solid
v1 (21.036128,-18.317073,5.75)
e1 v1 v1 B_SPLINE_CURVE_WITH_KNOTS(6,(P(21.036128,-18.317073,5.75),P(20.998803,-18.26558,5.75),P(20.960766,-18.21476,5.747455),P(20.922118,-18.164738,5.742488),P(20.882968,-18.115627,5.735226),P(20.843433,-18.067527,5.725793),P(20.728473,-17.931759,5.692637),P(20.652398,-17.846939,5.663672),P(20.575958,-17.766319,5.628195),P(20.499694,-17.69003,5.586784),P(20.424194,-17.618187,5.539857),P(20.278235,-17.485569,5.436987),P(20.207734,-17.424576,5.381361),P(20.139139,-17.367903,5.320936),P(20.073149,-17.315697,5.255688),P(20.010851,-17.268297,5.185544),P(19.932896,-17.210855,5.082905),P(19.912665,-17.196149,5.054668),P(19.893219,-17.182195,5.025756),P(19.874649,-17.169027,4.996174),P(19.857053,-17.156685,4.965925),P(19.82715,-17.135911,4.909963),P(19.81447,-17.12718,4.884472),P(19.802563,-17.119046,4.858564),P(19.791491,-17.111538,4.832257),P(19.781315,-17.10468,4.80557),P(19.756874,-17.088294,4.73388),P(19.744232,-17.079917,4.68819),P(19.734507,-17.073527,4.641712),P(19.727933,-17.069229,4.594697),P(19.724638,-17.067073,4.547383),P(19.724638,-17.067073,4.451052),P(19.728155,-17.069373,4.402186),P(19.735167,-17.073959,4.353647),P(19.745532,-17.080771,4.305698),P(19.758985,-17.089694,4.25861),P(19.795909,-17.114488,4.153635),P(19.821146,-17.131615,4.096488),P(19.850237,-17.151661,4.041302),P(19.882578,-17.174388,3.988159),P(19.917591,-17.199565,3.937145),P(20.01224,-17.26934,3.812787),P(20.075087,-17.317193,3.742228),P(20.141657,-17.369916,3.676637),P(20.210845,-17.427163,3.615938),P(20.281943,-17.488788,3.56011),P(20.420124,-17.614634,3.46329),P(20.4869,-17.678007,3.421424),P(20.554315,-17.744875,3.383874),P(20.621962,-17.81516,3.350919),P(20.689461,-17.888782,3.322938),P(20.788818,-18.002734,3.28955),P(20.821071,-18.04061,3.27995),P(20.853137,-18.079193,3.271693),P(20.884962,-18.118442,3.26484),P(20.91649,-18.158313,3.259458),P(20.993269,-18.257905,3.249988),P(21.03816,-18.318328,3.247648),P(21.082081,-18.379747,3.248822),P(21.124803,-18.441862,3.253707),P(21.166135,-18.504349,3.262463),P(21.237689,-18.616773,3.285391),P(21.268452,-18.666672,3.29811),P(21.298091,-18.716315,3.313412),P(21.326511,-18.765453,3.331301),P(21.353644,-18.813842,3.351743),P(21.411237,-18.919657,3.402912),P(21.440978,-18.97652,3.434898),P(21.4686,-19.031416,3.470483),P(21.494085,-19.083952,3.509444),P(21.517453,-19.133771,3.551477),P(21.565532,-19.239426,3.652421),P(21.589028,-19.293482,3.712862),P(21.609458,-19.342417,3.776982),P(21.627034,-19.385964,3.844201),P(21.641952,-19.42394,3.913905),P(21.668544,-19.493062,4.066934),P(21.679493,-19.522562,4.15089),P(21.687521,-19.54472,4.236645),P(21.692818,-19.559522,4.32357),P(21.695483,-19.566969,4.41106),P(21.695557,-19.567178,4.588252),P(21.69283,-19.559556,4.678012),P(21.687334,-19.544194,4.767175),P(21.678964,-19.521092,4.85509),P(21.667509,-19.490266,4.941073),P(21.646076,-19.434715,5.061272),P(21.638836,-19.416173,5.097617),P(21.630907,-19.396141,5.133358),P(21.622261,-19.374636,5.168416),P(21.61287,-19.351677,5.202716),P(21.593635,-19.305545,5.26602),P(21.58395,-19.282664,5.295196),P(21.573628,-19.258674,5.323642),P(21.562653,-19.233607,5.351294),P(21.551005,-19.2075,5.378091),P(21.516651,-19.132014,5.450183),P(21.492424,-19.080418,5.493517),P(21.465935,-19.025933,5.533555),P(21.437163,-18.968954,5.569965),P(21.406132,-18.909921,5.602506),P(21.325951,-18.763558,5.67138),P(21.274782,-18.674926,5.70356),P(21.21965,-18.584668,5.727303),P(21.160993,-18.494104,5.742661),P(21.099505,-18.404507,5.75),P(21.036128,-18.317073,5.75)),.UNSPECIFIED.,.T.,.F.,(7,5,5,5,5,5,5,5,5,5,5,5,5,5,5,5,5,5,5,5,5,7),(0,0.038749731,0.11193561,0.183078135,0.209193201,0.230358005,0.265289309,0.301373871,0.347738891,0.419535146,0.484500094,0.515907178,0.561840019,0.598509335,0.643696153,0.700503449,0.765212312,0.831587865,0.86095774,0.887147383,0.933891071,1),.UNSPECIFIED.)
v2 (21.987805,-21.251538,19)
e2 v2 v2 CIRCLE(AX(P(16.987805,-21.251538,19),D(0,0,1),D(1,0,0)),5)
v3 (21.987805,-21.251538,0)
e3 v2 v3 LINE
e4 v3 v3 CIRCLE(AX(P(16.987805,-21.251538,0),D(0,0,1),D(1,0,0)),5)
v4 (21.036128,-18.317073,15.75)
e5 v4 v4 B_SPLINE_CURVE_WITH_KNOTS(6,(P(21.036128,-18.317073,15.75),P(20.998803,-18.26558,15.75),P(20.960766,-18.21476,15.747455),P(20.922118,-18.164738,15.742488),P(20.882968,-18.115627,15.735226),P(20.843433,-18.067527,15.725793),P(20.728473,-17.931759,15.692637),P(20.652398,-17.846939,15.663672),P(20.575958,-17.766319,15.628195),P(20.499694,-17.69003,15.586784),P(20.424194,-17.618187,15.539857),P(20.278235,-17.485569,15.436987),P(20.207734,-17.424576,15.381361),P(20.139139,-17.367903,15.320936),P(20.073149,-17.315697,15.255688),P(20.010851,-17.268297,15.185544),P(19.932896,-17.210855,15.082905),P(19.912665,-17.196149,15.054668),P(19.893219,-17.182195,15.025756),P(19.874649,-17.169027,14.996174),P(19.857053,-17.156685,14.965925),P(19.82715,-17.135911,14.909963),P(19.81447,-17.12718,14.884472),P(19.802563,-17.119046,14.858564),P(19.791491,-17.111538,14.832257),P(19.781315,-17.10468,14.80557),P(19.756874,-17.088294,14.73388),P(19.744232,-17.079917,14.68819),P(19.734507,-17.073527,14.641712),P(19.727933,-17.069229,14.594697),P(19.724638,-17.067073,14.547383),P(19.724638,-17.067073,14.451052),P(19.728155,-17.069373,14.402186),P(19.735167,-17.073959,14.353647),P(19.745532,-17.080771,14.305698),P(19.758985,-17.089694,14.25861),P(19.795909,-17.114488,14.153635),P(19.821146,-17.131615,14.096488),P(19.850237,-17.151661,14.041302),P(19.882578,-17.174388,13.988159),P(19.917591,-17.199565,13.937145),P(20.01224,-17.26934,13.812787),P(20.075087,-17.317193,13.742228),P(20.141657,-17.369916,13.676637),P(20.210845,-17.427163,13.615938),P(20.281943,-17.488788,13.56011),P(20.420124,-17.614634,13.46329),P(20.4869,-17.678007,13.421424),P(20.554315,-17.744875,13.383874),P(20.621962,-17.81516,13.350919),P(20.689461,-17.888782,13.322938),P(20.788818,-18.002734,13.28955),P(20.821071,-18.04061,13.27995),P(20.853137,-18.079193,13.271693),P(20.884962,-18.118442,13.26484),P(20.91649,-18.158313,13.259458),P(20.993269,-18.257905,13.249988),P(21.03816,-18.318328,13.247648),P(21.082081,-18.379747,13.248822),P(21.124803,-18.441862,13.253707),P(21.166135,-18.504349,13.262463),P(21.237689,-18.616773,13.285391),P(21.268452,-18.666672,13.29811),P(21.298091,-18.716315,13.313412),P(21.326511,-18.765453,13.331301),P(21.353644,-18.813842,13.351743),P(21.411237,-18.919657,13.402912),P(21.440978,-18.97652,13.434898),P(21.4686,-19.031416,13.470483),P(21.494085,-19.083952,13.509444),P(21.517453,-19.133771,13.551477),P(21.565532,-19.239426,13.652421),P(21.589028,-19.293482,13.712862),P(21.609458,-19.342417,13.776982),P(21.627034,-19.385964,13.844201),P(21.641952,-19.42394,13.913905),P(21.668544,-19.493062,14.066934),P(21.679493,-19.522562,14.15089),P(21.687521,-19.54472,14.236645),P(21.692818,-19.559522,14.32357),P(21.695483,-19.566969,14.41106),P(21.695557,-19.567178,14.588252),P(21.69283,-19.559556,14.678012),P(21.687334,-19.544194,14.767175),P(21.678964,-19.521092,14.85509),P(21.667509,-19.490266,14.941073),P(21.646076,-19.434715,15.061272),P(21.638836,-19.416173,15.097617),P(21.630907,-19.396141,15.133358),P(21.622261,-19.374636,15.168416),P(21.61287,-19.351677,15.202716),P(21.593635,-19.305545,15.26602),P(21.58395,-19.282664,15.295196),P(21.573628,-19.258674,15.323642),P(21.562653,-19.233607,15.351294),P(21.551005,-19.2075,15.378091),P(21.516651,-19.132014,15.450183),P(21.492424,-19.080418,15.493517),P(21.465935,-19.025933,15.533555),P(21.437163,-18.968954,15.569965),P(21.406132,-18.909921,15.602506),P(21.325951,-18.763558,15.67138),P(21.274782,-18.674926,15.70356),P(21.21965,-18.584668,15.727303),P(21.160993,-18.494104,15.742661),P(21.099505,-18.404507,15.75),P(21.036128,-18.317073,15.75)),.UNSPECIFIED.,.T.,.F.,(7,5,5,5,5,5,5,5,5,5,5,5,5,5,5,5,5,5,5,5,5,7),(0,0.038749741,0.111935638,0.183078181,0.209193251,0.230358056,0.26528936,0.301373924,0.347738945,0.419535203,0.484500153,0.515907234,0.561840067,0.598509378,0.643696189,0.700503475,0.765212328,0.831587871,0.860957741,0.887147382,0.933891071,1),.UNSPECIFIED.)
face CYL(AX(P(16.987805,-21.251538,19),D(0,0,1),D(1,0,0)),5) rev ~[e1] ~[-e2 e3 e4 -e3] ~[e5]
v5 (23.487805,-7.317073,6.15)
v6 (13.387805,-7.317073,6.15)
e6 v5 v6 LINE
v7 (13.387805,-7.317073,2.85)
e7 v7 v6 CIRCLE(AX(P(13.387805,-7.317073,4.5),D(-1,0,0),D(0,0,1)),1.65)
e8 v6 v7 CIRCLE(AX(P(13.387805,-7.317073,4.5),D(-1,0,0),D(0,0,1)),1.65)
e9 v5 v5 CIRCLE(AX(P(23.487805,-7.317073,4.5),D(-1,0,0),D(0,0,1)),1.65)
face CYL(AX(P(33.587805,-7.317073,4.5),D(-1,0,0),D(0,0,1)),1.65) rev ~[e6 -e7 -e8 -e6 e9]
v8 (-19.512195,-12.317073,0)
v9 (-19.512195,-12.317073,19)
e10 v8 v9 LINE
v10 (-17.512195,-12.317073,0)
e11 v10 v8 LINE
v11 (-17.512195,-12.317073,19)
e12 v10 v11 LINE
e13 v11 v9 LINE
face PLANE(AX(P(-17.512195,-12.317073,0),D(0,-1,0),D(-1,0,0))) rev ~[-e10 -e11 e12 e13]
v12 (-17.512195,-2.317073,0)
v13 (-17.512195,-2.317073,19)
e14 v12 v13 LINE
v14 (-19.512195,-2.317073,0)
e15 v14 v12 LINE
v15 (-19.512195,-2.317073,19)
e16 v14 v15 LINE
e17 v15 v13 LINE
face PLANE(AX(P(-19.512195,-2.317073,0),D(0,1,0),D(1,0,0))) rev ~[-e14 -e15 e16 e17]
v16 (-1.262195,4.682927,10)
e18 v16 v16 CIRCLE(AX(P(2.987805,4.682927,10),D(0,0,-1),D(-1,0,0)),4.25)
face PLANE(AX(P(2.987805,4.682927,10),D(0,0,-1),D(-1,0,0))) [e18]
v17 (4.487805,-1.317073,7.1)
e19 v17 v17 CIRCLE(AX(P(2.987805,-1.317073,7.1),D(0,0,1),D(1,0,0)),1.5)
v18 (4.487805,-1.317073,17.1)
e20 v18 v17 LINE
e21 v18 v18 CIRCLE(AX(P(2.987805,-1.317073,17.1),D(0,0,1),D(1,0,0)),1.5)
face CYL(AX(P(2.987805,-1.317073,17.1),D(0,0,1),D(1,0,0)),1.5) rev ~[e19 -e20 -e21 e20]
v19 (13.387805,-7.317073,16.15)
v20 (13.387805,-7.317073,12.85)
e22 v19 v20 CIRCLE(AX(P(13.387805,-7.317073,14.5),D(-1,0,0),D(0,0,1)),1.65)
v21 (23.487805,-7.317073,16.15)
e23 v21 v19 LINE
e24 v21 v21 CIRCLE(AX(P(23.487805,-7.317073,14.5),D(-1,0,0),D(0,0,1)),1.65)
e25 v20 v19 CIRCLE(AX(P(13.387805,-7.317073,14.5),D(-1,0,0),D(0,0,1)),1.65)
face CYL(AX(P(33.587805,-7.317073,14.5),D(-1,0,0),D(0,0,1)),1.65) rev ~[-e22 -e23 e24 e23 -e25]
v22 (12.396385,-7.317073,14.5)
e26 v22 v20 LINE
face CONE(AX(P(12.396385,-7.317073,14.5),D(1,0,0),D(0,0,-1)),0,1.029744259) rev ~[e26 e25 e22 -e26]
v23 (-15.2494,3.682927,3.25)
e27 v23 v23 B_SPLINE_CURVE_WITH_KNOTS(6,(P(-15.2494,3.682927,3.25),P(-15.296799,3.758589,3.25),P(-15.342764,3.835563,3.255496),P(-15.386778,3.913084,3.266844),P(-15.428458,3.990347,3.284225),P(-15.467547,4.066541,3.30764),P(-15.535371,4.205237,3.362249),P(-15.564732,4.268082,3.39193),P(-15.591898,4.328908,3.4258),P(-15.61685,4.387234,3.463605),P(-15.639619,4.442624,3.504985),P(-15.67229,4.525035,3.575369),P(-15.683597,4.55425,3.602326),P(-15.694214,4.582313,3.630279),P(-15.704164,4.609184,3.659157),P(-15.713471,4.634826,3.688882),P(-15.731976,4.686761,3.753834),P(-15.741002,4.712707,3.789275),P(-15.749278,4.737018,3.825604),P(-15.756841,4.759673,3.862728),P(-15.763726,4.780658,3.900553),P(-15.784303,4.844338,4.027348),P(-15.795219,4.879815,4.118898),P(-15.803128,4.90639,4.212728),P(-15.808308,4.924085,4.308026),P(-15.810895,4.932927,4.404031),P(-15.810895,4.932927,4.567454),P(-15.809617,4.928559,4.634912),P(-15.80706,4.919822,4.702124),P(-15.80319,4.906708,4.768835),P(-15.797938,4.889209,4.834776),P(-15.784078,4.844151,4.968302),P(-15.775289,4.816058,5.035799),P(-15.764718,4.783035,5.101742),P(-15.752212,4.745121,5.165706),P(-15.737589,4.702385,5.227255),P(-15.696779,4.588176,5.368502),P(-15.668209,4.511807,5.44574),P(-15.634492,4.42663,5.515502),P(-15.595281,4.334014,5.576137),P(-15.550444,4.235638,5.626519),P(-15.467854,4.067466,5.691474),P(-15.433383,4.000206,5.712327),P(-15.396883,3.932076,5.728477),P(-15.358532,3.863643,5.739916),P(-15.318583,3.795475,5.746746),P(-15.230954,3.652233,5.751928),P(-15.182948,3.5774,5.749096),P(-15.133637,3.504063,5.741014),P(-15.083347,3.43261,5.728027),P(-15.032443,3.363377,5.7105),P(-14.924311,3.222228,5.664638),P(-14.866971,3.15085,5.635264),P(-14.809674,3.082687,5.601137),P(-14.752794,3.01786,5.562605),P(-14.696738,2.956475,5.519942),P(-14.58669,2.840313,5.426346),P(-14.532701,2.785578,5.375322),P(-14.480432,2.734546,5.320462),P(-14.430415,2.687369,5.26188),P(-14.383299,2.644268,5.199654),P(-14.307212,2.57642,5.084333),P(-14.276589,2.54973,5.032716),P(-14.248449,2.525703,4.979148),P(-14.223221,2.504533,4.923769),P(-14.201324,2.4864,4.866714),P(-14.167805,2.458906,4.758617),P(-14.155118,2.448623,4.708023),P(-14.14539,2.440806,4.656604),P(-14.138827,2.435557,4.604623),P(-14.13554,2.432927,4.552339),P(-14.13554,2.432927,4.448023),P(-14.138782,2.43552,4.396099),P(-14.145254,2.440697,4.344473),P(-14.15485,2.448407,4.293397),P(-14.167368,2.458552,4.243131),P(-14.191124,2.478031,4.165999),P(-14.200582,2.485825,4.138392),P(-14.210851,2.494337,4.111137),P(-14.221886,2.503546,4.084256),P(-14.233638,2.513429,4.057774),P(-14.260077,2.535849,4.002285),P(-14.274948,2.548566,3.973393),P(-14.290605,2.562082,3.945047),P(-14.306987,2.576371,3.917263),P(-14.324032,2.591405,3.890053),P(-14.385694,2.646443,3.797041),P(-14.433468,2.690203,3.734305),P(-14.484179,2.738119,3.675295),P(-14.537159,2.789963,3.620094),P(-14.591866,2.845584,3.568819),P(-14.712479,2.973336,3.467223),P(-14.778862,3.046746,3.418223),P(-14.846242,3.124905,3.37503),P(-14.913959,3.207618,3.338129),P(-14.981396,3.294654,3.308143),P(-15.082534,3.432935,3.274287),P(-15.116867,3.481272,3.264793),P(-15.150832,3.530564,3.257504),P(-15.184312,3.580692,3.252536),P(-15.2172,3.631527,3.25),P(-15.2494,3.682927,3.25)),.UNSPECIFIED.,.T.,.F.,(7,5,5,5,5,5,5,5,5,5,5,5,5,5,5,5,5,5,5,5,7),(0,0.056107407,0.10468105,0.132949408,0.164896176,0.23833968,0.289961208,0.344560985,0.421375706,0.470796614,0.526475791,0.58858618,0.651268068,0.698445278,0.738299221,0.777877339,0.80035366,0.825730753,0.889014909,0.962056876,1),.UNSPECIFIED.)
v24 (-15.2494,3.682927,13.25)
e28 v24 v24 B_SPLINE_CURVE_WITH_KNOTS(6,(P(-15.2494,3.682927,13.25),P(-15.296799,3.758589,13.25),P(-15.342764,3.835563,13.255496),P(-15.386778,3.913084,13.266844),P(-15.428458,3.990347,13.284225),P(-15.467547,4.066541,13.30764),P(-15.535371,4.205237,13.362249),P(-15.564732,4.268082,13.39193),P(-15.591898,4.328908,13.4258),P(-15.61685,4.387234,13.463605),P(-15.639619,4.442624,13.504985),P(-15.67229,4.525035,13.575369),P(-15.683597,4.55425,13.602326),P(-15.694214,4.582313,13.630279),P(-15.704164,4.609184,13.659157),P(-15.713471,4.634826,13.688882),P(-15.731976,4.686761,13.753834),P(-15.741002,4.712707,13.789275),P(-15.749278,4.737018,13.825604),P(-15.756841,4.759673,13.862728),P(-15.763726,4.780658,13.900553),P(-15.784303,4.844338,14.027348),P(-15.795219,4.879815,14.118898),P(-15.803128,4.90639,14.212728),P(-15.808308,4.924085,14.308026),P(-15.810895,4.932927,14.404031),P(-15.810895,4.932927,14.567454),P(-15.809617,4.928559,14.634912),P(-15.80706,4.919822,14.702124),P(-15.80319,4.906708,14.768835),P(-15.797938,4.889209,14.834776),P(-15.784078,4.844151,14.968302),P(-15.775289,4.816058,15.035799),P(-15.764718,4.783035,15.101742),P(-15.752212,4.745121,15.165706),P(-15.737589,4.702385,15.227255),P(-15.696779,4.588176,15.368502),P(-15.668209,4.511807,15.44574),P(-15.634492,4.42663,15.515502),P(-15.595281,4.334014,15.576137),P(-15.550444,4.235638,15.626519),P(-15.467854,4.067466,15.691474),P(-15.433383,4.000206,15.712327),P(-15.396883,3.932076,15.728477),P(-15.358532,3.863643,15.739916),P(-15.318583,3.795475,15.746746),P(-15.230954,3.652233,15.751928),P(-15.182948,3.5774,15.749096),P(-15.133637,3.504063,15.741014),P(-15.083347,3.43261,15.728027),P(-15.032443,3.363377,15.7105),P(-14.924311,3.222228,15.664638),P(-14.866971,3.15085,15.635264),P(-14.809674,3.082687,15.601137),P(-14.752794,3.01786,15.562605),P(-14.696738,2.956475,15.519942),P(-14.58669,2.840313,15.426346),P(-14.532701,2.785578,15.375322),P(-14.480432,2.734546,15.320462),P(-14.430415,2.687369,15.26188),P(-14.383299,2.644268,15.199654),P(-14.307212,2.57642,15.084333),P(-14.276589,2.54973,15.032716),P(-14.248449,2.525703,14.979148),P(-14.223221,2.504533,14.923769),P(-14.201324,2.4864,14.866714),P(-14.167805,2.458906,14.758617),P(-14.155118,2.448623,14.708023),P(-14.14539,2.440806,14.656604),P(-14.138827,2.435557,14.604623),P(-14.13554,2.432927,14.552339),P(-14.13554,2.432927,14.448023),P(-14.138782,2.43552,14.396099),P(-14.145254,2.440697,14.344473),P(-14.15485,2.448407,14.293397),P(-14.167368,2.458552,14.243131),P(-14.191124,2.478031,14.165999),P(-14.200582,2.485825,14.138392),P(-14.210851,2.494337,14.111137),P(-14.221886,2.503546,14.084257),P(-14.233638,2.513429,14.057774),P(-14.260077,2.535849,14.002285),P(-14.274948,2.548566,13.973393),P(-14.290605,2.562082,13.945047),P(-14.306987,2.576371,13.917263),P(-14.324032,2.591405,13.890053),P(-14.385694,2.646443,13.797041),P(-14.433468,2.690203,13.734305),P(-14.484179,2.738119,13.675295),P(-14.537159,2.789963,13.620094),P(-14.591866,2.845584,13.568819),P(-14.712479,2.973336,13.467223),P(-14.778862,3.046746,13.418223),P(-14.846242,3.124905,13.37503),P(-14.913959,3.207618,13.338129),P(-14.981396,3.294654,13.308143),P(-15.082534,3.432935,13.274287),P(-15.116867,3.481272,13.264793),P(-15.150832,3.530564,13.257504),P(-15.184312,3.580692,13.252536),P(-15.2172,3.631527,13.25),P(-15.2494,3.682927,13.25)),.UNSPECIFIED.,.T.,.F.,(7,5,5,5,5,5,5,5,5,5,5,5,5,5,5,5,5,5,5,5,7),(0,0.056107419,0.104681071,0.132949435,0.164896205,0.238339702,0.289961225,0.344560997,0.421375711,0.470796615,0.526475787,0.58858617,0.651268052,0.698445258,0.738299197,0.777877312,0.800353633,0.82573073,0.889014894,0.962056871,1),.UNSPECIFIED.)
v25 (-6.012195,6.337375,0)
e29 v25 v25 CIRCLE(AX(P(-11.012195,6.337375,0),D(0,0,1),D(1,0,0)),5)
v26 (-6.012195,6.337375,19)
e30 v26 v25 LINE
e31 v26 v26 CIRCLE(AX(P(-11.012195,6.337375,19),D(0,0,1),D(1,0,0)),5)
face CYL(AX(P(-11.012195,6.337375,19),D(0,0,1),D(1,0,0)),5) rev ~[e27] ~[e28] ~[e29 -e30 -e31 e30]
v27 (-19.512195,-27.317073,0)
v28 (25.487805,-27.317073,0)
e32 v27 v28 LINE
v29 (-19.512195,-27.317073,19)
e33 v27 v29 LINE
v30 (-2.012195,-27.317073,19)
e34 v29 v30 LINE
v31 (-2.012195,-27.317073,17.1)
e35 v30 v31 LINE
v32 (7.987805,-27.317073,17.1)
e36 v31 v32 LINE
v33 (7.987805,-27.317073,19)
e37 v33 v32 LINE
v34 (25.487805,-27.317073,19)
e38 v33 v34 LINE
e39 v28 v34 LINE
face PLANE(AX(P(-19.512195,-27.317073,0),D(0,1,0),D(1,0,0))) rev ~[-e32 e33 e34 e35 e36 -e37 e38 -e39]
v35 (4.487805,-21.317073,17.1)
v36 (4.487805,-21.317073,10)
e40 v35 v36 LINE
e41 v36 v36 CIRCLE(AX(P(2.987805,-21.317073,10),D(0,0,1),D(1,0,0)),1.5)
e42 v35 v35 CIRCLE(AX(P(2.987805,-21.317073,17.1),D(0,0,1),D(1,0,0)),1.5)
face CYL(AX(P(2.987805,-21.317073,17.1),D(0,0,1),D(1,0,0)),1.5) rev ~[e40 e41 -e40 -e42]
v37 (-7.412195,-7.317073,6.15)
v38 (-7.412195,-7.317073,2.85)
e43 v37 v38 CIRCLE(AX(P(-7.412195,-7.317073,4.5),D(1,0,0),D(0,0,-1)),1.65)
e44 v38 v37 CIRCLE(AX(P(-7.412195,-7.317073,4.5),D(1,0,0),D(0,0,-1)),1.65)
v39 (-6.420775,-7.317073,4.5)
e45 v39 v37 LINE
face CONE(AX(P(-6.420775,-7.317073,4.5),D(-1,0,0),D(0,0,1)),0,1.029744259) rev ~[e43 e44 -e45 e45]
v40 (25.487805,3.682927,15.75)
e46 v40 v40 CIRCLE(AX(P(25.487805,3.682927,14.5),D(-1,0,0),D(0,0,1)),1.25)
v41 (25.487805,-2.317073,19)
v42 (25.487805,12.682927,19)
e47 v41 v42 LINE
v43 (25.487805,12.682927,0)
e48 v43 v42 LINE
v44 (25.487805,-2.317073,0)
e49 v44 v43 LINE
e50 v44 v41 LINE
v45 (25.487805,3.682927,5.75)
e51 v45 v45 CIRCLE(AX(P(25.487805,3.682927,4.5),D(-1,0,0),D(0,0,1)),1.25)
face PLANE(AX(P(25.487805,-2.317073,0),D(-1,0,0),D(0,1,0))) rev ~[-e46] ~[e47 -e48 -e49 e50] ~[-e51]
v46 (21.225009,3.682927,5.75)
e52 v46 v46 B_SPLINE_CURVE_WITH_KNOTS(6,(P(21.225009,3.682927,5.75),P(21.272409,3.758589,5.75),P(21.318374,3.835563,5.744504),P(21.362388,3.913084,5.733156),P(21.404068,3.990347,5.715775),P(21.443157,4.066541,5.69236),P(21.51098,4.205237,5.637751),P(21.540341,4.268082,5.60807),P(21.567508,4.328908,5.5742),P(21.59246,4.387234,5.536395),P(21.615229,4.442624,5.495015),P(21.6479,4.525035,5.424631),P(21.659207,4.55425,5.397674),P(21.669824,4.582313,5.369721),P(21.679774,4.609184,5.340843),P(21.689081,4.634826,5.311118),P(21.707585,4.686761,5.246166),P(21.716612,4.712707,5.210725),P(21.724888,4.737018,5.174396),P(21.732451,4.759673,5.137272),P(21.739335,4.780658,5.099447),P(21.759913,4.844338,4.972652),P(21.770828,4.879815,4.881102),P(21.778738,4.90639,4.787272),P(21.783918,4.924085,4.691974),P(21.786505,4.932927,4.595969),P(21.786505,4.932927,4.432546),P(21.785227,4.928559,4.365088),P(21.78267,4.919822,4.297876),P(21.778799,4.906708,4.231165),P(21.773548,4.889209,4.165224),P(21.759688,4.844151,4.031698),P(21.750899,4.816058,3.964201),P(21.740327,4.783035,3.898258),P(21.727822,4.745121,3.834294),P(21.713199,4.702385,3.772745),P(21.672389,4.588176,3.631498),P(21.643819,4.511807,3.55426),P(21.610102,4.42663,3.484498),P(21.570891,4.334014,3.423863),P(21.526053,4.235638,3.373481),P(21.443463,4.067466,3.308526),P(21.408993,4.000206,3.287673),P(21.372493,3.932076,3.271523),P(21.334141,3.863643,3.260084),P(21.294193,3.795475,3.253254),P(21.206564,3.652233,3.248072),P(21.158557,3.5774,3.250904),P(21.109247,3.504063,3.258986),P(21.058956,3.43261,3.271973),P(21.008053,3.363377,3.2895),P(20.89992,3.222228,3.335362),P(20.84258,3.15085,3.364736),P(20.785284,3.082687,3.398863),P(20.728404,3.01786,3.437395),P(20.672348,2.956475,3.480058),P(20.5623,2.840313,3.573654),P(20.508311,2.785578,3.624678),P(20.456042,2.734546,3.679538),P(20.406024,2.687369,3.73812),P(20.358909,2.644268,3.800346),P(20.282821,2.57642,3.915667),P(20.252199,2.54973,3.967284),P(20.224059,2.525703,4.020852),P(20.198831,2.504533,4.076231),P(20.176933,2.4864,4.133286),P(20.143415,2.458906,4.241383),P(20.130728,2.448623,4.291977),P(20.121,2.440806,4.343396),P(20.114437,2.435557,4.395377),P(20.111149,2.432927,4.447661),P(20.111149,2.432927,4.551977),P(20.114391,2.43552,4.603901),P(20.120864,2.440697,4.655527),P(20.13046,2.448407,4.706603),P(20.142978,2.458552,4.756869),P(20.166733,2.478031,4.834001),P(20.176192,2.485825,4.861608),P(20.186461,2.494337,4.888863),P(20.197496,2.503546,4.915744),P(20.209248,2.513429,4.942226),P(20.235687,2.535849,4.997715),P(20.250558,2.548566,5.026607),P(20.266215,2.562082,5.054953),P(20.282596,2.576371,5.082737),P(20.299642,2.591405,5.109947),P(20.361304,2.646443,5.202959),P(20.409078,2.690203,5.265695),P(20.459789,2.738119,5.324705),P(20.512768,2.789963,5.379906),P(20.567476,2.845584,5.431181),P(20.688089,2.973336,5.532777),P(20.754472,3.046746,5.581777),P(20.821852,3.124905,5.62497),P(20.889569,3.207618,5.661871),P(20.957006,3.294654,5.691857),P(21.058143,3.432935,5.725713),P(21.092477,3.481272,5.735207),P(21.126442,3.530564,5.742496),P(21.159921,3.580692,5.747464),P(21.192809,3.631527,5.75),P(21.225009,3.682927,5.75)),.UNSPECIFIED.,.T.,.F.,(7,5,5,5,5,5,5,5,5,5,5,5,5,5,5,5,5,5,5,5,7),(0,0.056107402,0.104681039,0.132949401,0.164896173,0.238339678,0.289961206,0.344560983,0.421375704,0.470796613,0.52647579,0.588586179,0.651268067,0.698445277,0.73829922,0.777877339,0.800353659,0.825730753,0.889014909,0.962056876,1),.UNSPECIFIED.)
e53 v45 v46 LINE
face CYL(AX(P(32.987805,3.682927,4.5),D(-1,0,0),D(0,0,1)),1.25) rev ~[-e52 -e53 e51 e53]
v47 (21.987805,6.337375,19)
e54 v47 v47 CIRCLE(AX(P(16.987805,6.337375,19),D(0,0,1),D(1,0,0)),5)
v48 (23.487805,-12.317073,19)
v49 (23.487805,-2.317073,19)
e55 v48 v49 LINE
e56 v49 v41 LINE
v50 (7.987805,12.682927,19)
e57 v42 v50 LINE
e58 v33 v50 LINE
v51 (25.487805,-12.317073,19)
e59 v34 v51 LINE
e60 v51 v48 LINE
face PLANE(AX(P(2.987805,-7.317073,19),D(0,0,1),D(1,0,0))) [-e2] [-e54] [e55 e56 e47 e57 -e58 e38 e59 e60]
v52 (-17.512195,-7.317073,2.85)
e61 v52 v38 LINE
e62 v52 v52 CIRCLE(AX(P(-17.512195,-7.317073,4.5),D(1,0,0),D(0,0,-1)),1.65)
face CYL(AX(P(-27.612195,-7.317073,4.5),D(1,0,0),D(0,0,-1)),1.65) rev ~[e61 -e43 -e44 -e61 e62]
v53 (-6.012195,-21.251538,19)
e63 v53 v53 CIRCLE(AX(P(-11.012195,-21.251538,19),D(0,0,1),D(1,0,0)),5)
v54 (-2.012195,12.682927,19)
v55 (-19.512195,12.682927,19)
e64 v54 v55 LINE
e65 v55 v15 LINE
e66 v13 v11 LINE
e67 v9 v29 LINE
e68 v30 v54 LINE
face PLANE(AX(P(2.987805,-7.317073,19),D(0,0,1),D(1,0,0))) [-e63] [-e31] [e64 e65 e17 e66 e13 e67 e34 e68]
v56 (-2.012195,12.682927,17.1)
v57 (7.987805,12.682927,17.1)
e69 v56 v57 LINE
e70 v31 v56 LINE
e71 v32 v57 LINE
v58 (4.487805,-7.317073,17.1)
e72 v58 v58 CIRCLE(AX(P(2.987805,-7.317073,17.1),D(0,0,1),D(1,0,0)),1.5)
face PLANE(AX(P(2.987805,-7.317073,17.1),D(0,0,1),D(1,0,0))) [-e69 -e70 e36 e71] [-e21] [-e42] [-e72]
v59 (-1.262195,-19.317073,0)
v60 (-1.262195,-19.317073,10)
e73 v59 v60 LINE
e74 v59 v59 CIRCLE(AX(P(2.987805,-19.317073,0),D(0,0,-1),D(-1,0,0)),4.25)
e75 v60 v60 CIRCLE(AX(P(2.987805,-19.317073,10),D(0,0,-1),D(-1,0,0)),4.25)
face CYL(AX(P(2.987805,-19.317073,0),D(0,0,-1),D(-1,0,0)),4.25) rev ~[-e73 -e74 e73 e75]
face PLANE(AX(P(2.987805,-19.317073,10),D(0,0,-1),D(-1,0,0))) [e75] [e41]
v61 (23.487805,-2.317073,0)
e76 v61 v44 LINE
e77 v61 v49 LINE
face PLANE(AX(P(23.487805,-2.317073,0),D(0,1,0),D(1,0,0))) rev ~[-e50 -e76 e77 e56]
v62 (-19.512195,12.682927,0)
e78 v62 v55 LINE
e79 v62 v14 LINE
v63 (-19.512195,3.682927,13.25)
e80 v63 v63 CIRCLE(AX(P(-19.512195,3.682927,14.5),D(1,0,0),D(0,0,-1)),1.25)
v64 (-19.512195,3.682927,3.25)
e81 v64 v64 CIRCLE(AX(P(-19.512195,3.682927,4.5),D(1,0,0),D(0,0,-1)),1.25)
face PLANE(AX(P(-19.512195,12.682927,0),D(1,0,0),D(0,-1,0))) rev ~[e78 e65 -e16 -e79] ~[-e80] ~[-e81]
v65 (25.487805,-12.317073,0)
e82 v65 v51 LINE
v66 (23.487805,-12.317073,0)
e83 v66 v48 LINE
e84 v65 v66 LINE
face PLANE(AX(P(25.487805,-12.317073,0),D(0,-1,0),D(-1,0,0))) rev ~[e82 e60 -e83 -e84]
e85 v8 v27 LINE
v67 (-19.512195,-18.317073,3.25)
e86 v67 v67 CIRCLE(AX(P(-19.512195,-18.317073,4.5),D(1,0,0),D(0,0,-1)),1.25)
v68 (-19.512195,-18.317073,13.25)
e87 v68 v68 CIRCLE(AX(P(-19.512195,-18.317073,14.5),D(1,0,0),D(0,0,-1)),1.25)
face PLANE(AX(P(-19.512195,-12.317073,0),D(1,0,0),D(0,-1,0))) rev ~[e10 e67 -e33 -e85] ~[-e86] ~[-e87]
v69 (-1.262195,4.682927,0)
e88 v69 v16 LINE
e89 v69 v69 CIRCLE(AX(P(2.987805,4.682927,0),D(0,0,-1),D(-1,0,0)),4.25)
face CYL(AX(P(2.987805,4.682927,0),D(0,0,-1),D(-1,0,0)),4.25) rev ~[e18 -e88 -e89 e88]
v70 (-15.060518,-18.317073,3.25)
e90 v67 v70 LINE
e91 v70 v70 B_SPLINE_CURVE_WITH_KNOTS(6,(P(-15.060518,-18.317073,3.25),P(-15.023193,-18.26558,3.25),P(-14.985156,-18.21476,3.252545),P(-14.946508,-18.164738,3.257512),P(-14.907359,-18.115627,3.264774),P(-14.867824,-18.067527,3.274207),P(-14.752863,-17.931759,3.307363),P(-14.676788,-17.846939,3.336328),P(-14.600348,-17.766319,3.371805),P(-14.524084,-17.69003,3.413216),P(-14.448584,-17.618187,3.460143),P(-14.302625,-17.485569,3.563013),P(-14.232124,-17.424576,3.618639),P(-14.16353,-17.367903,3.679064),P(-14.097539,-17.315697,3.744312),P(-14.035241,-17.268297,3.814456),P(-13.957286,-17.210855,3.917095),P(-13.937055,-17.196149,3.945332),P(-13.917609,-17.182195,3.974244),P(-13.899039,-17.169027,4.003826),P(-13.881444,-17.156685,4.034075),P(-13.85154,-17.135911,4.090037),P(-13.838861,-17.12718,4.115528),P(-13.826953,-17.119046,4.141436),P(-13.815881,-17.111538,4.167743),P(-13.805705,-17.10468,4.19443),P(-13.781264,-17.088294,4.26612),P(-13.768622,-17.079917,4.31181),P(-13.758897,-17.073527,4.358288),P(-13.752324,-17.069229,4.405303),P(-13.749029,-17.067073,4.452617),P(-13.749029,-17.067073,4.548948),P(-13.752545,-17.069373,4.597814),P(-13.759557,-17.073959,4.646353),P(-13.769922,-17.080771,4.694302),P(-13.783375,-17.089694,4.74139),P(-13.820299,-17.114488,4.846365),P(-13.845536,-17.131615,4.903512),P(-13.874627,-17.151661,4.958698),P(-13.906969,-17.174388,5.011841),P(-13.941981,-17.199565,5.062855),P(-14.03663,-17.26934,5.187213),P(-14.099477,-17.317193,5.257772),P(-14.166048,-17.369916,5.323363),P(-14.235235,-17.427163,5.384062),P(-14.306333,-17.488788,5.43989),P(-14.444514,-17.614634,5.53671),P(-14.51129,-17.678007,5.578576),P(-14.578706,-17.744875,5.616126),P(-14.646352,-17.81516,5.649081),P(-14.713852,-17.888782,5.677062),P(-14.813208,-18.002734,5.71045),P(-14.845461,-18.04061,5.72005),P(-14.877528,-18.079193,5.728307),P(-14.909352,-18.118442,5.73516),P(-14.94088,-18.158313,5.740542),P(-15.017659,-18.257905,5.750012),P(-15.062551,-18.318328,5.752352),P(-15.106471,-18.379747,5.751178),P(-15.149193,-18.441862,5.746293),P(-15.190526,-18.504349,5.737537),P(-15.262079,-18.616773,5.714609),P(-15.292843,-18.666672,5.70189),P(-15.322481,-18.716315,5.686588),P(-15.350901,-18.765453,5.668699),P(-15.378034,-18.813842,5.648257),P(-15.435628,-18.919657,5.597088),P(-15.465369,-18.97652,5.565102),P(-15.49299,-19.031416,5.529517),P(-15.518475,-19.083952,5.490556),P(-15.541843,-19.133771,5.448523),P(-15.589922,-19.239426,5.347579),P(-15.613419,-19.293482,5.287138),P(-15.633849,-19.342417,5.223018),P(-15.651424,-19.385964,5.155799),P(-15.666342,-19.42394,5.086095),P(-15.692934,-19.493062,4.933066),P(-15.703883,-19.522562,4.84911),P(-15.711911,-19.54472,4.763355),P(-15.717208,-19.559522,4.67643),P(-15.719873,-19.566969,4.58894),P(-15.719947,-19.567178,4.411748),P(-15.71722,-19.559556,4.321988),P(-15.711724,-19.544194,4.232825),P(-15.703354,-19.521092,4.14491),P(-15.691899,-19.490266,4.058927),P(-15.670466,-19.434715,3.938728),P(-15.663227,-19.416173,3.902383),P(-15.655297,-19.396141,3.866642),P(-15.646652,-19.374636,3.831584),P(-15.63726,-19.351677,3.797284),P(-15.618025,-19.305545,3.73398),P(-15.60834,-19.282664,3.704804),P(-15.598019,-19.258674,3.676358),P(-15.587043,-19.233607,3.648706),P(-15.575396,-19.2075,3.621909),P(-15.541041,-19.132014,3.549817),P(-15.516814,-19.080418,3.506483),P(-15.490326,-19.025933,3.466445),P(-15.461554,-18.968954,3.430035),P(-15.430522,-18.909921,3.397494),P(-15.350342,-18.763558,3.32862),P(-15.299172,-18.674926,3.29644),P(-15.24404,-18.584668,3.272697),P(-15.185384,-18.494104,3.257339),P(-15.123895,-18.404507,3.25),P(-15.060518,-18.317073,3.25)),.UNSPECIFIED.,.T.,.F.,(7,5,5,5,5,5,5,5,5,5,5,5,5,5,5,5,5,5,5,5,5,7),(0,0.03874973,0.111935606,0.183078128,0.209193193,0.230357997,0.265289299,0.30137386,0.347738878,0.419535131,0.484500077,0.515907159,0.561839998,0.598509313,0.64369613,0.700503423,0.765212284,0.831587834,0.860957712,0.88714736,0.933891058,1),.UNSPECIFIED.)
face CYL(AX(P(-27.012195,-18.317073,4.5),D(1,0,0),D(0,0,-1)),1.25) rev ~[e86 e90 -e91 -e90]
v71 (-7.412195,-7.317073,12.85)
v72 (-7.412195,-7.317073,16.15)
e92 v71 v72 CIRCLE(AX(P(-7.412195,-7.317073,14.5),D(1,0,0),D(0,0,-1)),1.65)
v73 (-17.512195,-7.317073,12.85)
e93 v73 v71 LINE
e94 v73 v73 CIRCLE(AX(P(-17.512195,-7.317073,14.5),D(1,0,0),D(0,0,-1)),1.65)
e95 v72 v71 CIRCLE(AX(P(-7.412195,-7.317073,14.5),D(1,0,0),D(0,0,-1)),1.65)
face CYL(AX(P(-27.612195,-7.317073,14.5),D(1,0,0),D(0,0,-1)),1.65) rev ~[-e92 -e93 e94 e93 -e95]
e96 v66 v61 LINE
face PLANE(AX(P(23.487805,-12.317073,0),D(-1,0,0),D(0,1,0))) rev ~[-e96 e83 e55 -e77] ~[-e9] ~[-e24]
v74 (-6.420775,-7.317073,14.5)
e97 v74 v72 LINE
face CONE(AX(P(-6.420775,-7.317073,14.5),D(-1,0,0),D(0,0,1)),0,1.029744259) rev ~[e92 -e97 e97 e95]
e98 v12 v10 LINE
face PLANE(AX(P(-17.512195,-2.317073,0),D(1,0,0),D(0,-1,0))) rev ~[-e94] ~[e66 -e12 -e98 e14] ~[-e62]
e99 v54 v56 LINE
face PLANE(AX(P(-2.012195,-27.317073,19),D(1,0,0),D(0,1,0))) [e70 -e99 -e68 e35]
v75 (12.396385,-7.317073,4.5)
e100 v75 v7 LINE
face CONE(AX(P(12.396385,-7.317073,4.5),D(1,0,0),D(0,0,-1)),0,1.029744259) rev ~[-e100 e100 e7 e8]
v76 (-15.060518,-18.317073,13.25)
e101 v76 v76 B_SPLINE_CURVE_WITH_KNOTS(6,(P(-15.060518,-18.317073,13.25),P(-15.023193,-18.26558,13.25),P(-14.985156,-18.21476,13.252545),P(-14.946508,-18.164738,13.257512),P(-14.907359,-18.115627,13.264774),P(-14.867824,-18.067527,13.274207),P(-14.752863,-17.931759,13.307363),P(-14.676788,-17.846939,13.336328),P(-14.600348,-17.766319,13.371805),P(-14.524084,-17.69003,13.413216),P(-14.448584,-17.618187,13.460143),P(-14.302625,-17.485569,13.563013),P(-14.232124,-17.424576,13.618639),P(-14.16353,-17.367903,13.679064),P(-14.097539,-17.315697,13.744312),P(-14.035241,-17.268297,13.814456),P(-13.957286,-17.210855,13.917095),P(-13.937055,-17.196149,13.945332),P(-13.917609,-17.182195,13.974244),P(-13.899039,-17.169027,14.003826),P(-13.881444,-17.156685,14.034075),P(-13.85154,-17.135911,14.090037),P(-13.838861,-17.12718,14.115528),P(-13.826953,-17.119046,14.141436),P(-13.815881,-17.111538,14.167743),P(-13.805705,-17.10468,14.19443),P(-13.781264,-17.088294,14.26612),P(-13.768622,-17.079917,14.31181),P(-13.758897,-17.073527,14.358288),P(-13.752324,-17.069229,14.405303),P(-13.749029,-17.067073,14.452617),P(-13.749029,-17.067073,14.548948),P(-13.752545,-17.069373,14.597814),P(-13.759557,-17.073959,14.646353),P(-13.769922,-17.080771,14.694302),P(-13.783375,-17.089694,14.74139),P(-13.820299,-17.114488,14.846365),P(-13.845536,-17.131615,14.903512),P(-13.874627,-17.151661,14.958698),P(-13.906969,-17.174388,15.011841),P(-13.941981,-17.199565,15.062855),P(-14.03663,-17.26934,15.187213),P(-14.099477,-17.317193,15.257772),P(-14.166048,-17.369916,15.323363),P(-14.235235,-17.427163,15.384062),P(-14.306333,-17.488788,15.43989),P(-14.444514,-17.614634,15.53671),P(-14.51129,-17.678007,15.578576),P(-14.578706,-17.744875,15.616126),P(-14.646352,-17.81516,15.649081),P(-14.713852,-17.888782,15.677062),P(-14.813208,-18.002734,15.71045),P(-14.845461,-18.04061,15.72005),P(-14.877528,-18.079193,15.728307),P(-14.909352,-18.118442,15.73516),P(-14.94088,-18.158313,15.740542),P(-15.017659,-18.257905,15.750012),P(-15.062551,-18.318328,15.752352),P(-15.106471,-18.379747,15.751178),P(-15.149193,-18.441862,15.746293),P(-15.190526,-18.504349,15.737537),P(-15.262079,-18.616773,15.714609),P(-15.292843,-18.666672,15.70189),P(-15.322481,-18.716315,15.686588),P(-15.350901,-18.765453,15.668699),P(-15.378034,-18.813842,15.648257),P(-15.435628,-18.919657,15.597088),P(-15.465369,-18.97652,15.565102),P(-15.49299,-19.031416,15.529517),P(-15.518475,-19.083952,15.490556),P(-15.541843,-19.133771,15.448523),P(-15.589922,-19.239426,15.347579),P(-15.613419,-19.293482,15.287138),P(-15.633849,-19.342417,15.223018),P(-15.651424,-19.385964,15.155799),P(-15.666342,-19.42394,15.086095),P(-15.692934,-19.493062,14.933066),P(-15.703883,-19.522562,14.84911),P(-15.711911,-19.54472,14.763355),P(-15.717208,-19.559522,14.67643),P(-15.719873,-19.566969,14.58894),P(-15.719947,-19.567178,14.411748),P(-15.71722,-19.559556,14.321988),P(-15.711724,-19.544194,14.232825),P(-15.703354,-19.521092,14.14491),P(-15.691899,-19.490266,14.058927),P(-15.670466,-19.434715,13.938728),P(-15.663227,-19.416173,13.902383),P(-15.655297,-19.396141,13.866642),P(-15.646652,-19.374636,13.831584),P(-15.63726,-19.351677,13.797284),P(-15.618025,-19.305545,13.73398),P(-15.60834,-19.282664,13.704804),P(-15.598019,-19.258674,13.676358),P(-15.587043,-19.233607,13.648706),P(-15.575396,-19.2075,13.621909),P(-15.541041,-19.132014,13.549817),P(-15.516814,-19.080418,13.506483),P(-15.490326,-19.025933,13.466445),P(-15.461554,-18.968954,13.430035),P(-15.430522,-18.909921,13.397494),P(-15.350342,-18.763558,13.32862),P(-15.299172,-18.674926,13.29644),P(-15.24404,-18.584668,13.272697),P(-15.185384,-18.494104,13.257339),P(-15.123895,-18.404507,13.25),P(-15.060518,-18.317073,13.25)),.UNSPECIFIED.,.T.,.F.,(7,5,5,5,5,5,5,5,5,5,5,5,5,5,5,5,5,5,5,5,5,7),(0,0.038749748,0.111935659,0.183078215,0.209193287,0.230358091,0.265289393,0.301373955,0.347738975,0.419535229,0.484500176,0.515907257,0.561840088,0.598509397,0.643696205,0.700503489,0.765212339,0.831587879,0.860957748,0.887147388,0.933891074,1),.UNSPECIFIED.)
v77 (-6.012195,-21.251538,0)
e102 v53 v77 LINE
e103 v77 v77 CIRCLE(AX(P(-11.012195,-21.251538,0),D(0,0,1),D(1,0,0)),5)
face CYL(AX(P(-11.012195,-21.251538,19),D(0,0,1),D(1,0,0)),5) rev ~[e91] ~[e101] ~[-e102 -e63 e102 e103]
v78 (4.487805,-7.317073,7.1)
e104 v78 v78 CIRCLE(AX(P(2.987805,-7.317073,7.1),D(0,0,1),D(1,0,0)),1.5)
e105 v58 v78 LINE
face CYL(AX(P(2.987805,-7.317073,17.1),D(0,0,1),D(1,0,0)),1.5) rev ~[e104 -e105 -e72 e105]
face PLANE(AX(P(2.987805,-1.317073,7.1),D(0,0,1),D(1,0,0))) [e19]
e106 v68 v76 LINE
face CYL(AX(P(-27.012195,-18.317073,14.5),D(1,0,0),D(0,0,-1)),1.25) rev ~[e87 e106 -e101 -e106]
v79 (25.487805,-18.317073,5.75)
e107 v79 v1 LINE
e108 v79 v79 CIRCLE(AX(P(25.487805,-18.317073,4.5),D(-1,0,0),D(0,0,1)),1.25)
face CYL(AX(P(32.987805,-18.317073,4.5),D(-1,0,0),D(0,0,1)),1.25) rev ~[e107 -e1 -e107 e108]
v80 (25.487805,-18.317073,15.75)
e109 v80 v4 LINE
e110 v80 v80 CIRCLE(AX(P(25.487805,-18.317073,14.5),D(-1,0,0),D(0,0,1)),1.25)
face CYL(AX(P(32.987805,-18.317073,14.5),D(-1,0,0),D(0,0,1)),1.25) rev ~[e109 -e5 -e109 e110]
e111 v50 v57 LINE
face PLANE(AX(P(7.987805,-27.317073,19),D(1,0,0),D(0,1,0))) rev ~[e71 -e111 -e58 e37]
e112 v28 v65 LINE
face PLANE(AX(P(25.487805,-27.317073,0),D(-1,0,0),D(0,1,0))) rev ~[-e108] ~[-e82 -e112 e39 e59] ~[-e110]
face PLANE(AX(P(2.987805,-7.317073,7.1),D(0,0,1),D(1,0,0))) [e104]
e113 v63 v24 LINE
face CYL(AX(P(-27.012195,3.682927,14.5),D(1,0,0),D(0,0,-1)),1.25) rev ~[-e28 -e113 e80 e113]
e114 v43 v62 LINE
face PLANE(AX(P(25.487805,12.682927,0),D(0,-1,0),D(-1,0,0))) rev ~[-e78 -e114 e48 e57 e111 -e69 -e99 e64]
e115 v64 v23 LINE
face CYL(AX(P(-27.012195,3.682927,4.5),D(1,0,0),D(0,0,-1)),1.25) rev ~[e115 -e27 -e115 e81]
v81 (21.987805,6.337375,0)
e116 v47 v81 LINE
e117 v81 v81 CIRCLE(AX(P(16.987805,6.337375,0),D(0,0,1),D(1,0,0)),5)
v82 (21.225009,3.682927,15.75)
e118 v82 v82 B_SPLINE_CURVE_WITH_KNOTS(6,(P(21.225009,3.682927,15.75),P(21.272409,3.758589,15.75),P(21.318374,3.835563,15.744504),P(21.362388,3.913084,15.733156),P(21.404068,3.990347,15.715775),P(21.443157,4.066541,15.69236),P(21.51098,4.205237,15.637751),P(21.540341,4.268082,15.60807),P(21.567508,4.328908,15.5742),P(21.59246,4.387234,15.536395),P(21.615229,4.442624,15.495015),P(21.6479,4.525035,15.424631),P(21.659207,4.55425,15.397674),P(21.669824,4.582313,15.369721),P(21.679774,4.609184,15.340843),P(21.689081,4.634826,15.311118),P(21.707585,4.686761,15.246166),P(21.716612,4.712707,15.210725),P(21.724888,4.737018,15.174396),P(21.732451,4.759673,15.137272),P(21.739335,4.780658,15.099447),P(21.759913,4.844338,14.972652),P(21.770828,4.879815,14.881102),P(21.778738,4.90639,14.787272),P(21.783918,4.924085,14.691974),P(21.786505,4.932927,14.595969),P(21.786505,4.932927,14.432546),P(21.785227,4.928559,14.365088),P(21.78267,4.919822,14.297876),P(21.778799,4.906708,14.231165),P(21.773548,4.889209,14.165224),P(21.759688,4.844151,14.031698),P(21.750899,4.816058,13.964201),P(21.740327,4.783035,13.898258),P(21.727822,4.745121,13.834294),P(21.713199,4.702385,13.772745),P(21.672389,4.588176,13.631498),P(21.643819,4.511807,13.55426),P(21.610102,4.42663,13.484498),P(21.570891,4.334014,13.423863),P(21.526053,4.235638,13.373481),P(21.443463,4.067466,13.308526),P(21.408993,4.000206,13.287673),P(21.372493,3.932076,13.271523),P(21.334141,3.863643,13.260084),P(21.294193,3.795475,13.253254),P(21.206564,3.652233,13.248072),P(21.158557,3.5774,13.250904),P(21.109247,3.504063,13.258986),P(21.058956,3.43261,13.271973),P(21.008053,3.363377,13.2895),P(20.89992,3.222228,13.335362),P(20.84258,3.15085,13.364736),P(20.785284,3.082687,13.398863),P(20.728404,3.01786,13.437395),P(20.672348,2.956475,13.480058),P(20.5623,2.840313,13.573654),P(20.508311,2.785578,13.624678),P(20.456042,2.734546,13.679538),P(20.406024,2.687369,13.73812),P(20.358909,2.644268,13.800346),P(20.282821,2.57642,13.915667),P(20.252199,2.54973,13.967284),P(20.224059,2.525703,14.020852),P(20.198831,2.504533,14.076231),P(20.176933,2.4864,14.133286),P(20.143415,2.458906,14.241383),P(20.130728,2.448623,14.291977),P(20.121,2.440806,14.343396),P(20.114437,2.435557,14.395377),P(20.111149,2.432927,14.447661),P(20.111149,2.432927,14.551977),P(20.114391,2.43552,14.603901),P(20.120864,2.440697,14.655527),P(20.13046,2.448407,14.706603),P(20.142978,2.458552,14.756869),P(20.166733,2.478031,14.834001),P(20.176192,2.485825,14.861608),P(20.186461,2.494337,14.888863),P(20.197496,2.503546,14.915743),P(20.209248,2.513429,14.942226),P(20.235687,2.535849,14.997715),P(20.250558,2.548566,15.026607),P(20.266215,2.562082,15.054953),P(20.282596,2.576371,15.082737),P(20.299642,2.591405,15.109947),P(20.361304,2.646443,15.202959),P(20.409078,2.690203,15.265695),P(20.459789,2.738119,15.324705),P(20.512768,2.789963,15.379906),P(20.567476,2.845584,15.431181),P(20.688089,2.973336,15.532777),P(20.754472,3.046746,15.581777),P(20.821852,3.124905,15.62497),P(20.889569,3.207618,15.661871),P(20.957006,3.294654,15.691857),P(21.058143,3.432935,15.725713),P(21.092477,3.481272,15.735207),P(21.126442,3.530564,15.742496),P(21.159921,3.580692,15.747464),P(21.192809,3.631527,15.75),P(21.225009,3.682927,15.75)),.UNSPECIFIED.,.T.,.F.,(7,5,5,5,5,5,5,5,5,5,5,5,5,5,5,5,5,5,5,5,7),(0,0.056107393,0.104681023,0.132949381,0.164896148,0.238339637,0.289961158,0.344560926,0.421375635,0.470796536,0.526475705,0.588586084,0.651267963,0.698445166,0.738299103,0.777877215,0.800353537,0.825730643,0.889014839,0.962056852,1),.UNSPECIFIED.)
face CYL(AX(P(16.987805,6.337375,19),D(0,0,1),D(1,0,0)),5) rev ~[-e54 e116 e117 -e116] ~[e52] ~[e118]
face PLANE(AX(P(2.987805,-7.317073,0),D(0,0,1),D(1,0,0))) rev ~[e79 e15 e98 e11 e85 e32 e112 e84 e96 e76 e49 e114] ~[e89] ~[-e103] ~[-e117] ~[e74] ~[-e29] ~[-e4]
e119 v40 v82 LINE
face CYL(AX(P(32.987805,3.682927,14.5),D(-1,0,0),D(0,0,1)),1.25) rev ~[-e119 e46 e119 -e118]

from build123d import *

# Parameters (mm, degrees)
BOSS_EXTRUDE1_DEPTH   = 19
SKETCH2_W             = 10
SKETCH2_H             = 40
CUT_EXTRUDE1_DEPTH    = 1.9
SKETCH3_R             = 5
CUT_EXTRUDE2_DEPTH    = 20
SKETCH4_R             = 4.25
CUT_EXTRUDE3_DEPTH    = 10
SKETCH5_R             = 1.5
CUT_EXTRUDE4_DEPTH    = 10
M3_TAPPED_HOLE2_D     = 2.5
M3_TAPPED_HOLE2_DEPTH = 7.5
M3_TAPPED_HOLE2_TIP   = 0.751075774
M4_TAPPED_HOLE1_D     = 3.3
M4_TAPPED_HOLE1_DEPTH = 10.1
M4_TAPPED_HOLE1_TIP   = 0.991420021
M4_TAPPED_HOLE2_D     = 3.3
M4_TAPPED_HOLE2_DEPTH = 10.1
M4_TAPPED_HOLE2_TIP   = 0.991420021
M3_TAPPED_HOLE3_D     = 2.5
M3_TAPPED_HOLE3_DEPTH = 7.5
M3_TAPPED_HOLE3_TIP   = 0.751075774


with BuildPart() as part:
    # Sketch1 → Boss-Extrude1 (new body)
    with BuildSketch(Plane.XY):
        Polygon((-19.512195122, -12.317073171), (-19.512195122, -27.317073171), (25.487804878, -27.317073171), (25.487804878, -12.317073171), (23.487804878, -12.317073171), (23.487804878, -2.317073171), (25.487804878, -2.317073171), (25.487804878, 12.682926829), (-19.512195122, 12.682926829), (-19.512195122, -2.317073171), (-17.512195122, -2.317073171), (-17.512195122, -12.317073171), align=None)
    extrude(amount=BOSS_EXTRUDE1_DEPTH)

    # Sketch2 → Cut-Extrude1 (cut)
    with BuildSketch(Plane.XY.offset(19)):
        with Locations((2.987804878, -7.317073171)):
            Rectangle(SKETCH2_W, SKETCH2_H)
    extrude(amount=-CUT_EXTRUDE1_DEPTH, mode=Mode.SUBTRACT)

    # Sketch3 → Cut-Extrude2 (cut, through all)
    with BuildSketch(Plane.XY.offset(19)):
        with Locations((-11.012195122, 6.337375375)):
            Circle(SKETCH3_R)
        with Locations((16.987804878, 6.337375375)):
            Circle(SKETCH3_R)
        with Locations((-11.012195122, -21.251537573)):
            Circle(SKETCH3_R)
        with Locations((16.987804878, -21.251537573)):
            Circle(SKETCH3_R)
    extrude(amount=-CUT_EXTRUDE2_DEPTH, mode=Mode.SUBTRACT)

    # Sketch4 → Cut-Extrude3 (cut)
    with BuildSketch(Plane(origin=(0, 0, 0), x_dir=(-1, 0, 0), z_dir=(0, 0, -1))):
        with Locations((-2.987804878, -19.317073171)):
            Circle(SKETCH4_R)
        with Locations((-2.987804878, 4.682926829)):
            Circle(SKETCH4_R)
    extrude(amount=-CUT_EXTRUDE3_DEPTH, mode=Mode.SUBTRACT)

    # Sketch5 → Cut-Extrude4 (cut)
    with BuildSketch(Plane.XY.offset(17.1)):
        with Locations((2.987804878, -1.317073171)):
            Circle(SKETCH5_R)
        with Locations((2.987804878, -7.317073171)):
            Circle(SKETCH5_R)
        with Locations((2.987804878, -21.317073171)):
            Circle(SKETCH5_R)
    extrude(amount=-CUT_EXTRUDE4_DEPTH, mode=Mode.SUBTRACT)

    # M3 Tapped Hole2
    with Locations(Plane.ZY.offset(19.512195122)):
        with Locations((14.5, 3.682926829), (4.5, 3.682926829), (14.5, -18.317073171), (4.5, -18.317073171)):
            Hole(M3_TAPPED_HOLE2_D / 2, depth=M3_TAPPED_HOLE2_DEPTH)
            with Locations((0, 0, -(M3_TAPPED_HOLE2_DEPTH + M3_TAPPED_HOLE2_TIP / 2))):  # 118° drill point
                Cone(0, M3_TAPPED_HOLE2_D / 2, M3_TAPPED_HOLE2_TIP, mode=Mode.SUBTRACT)

    # M4 Tapped Hole1
    with Locations(Plane.ZY.offset(17.512195122)):
        with Locations((14.5, -7.317073171), (4.5, -7.317073171)):
            Hole(M4_TAPPED_HOLE1_D / 2, depth=M4_TAPPED_HOLE1_DEPTH)
            with Locations((0, 0, -(M4_TAPPED_HOLE1_DEPTH + M4_TAPPED_HOLE1_TIP / 2))):  # 118° drill point
                Cone(0, M4_TAPPED_HOLE1_D / 2, M4_TAPPED_HOLE1_TIP, mode=Mode.SUBTRACT)

    # M4 Tapped Hole2
    with Locations(Plane(origin=(23.487804878, 0, 0), x_dir=(0, 0, -1), z_dir=(1, 0, 0))):
        with Locations((-14.5, -7.317073171), (-4.5, -7.317073171)):
            Hole(M4_TAPPED_HOLE2_D / 2, depth=M4_TAPPED_HOLE2_DEPTH)
            with Locations((0, 0, -(M4_TAPPED_HOLE2_DEPTH + M4_TAPPED_HOLE2_TIP / 2))):  # 118° drill point
                Cone(0, M4_TAPPED_HOLE2_D / 2, M4_TAPPED_HOLE2_TIP, mode=Mode.SUBTRACT)

    # M3 Tapped Hole3
    with Locations(Plane(origin=(25.487804878, 0, 0), x_dir=(0, 0, -1), z_dir=(1, 0, 0))):
        with Locations((-14.5, -18.317073171), (-4.5, -18.317073171), (-4.5, 3.682926829), (-14.5, 3.682926829)):
            Hole(M3_TAPPED_HOLE3_D / 2, depth=M3_TAPPED_HOLE3_DEPTH)
            with Locations((0, 0, -(M3_TAPPED_HOLE3_DEPTH + M3_TAPPED_HOLE3_TIP / 2))):  # 118° drill point
                Cone(0, M3_TAPPED_HOLE3_D / 2, M3_TAPPED_HOLE3_TIP, mode=Mode.SUBTRACT)


solid = part.part
